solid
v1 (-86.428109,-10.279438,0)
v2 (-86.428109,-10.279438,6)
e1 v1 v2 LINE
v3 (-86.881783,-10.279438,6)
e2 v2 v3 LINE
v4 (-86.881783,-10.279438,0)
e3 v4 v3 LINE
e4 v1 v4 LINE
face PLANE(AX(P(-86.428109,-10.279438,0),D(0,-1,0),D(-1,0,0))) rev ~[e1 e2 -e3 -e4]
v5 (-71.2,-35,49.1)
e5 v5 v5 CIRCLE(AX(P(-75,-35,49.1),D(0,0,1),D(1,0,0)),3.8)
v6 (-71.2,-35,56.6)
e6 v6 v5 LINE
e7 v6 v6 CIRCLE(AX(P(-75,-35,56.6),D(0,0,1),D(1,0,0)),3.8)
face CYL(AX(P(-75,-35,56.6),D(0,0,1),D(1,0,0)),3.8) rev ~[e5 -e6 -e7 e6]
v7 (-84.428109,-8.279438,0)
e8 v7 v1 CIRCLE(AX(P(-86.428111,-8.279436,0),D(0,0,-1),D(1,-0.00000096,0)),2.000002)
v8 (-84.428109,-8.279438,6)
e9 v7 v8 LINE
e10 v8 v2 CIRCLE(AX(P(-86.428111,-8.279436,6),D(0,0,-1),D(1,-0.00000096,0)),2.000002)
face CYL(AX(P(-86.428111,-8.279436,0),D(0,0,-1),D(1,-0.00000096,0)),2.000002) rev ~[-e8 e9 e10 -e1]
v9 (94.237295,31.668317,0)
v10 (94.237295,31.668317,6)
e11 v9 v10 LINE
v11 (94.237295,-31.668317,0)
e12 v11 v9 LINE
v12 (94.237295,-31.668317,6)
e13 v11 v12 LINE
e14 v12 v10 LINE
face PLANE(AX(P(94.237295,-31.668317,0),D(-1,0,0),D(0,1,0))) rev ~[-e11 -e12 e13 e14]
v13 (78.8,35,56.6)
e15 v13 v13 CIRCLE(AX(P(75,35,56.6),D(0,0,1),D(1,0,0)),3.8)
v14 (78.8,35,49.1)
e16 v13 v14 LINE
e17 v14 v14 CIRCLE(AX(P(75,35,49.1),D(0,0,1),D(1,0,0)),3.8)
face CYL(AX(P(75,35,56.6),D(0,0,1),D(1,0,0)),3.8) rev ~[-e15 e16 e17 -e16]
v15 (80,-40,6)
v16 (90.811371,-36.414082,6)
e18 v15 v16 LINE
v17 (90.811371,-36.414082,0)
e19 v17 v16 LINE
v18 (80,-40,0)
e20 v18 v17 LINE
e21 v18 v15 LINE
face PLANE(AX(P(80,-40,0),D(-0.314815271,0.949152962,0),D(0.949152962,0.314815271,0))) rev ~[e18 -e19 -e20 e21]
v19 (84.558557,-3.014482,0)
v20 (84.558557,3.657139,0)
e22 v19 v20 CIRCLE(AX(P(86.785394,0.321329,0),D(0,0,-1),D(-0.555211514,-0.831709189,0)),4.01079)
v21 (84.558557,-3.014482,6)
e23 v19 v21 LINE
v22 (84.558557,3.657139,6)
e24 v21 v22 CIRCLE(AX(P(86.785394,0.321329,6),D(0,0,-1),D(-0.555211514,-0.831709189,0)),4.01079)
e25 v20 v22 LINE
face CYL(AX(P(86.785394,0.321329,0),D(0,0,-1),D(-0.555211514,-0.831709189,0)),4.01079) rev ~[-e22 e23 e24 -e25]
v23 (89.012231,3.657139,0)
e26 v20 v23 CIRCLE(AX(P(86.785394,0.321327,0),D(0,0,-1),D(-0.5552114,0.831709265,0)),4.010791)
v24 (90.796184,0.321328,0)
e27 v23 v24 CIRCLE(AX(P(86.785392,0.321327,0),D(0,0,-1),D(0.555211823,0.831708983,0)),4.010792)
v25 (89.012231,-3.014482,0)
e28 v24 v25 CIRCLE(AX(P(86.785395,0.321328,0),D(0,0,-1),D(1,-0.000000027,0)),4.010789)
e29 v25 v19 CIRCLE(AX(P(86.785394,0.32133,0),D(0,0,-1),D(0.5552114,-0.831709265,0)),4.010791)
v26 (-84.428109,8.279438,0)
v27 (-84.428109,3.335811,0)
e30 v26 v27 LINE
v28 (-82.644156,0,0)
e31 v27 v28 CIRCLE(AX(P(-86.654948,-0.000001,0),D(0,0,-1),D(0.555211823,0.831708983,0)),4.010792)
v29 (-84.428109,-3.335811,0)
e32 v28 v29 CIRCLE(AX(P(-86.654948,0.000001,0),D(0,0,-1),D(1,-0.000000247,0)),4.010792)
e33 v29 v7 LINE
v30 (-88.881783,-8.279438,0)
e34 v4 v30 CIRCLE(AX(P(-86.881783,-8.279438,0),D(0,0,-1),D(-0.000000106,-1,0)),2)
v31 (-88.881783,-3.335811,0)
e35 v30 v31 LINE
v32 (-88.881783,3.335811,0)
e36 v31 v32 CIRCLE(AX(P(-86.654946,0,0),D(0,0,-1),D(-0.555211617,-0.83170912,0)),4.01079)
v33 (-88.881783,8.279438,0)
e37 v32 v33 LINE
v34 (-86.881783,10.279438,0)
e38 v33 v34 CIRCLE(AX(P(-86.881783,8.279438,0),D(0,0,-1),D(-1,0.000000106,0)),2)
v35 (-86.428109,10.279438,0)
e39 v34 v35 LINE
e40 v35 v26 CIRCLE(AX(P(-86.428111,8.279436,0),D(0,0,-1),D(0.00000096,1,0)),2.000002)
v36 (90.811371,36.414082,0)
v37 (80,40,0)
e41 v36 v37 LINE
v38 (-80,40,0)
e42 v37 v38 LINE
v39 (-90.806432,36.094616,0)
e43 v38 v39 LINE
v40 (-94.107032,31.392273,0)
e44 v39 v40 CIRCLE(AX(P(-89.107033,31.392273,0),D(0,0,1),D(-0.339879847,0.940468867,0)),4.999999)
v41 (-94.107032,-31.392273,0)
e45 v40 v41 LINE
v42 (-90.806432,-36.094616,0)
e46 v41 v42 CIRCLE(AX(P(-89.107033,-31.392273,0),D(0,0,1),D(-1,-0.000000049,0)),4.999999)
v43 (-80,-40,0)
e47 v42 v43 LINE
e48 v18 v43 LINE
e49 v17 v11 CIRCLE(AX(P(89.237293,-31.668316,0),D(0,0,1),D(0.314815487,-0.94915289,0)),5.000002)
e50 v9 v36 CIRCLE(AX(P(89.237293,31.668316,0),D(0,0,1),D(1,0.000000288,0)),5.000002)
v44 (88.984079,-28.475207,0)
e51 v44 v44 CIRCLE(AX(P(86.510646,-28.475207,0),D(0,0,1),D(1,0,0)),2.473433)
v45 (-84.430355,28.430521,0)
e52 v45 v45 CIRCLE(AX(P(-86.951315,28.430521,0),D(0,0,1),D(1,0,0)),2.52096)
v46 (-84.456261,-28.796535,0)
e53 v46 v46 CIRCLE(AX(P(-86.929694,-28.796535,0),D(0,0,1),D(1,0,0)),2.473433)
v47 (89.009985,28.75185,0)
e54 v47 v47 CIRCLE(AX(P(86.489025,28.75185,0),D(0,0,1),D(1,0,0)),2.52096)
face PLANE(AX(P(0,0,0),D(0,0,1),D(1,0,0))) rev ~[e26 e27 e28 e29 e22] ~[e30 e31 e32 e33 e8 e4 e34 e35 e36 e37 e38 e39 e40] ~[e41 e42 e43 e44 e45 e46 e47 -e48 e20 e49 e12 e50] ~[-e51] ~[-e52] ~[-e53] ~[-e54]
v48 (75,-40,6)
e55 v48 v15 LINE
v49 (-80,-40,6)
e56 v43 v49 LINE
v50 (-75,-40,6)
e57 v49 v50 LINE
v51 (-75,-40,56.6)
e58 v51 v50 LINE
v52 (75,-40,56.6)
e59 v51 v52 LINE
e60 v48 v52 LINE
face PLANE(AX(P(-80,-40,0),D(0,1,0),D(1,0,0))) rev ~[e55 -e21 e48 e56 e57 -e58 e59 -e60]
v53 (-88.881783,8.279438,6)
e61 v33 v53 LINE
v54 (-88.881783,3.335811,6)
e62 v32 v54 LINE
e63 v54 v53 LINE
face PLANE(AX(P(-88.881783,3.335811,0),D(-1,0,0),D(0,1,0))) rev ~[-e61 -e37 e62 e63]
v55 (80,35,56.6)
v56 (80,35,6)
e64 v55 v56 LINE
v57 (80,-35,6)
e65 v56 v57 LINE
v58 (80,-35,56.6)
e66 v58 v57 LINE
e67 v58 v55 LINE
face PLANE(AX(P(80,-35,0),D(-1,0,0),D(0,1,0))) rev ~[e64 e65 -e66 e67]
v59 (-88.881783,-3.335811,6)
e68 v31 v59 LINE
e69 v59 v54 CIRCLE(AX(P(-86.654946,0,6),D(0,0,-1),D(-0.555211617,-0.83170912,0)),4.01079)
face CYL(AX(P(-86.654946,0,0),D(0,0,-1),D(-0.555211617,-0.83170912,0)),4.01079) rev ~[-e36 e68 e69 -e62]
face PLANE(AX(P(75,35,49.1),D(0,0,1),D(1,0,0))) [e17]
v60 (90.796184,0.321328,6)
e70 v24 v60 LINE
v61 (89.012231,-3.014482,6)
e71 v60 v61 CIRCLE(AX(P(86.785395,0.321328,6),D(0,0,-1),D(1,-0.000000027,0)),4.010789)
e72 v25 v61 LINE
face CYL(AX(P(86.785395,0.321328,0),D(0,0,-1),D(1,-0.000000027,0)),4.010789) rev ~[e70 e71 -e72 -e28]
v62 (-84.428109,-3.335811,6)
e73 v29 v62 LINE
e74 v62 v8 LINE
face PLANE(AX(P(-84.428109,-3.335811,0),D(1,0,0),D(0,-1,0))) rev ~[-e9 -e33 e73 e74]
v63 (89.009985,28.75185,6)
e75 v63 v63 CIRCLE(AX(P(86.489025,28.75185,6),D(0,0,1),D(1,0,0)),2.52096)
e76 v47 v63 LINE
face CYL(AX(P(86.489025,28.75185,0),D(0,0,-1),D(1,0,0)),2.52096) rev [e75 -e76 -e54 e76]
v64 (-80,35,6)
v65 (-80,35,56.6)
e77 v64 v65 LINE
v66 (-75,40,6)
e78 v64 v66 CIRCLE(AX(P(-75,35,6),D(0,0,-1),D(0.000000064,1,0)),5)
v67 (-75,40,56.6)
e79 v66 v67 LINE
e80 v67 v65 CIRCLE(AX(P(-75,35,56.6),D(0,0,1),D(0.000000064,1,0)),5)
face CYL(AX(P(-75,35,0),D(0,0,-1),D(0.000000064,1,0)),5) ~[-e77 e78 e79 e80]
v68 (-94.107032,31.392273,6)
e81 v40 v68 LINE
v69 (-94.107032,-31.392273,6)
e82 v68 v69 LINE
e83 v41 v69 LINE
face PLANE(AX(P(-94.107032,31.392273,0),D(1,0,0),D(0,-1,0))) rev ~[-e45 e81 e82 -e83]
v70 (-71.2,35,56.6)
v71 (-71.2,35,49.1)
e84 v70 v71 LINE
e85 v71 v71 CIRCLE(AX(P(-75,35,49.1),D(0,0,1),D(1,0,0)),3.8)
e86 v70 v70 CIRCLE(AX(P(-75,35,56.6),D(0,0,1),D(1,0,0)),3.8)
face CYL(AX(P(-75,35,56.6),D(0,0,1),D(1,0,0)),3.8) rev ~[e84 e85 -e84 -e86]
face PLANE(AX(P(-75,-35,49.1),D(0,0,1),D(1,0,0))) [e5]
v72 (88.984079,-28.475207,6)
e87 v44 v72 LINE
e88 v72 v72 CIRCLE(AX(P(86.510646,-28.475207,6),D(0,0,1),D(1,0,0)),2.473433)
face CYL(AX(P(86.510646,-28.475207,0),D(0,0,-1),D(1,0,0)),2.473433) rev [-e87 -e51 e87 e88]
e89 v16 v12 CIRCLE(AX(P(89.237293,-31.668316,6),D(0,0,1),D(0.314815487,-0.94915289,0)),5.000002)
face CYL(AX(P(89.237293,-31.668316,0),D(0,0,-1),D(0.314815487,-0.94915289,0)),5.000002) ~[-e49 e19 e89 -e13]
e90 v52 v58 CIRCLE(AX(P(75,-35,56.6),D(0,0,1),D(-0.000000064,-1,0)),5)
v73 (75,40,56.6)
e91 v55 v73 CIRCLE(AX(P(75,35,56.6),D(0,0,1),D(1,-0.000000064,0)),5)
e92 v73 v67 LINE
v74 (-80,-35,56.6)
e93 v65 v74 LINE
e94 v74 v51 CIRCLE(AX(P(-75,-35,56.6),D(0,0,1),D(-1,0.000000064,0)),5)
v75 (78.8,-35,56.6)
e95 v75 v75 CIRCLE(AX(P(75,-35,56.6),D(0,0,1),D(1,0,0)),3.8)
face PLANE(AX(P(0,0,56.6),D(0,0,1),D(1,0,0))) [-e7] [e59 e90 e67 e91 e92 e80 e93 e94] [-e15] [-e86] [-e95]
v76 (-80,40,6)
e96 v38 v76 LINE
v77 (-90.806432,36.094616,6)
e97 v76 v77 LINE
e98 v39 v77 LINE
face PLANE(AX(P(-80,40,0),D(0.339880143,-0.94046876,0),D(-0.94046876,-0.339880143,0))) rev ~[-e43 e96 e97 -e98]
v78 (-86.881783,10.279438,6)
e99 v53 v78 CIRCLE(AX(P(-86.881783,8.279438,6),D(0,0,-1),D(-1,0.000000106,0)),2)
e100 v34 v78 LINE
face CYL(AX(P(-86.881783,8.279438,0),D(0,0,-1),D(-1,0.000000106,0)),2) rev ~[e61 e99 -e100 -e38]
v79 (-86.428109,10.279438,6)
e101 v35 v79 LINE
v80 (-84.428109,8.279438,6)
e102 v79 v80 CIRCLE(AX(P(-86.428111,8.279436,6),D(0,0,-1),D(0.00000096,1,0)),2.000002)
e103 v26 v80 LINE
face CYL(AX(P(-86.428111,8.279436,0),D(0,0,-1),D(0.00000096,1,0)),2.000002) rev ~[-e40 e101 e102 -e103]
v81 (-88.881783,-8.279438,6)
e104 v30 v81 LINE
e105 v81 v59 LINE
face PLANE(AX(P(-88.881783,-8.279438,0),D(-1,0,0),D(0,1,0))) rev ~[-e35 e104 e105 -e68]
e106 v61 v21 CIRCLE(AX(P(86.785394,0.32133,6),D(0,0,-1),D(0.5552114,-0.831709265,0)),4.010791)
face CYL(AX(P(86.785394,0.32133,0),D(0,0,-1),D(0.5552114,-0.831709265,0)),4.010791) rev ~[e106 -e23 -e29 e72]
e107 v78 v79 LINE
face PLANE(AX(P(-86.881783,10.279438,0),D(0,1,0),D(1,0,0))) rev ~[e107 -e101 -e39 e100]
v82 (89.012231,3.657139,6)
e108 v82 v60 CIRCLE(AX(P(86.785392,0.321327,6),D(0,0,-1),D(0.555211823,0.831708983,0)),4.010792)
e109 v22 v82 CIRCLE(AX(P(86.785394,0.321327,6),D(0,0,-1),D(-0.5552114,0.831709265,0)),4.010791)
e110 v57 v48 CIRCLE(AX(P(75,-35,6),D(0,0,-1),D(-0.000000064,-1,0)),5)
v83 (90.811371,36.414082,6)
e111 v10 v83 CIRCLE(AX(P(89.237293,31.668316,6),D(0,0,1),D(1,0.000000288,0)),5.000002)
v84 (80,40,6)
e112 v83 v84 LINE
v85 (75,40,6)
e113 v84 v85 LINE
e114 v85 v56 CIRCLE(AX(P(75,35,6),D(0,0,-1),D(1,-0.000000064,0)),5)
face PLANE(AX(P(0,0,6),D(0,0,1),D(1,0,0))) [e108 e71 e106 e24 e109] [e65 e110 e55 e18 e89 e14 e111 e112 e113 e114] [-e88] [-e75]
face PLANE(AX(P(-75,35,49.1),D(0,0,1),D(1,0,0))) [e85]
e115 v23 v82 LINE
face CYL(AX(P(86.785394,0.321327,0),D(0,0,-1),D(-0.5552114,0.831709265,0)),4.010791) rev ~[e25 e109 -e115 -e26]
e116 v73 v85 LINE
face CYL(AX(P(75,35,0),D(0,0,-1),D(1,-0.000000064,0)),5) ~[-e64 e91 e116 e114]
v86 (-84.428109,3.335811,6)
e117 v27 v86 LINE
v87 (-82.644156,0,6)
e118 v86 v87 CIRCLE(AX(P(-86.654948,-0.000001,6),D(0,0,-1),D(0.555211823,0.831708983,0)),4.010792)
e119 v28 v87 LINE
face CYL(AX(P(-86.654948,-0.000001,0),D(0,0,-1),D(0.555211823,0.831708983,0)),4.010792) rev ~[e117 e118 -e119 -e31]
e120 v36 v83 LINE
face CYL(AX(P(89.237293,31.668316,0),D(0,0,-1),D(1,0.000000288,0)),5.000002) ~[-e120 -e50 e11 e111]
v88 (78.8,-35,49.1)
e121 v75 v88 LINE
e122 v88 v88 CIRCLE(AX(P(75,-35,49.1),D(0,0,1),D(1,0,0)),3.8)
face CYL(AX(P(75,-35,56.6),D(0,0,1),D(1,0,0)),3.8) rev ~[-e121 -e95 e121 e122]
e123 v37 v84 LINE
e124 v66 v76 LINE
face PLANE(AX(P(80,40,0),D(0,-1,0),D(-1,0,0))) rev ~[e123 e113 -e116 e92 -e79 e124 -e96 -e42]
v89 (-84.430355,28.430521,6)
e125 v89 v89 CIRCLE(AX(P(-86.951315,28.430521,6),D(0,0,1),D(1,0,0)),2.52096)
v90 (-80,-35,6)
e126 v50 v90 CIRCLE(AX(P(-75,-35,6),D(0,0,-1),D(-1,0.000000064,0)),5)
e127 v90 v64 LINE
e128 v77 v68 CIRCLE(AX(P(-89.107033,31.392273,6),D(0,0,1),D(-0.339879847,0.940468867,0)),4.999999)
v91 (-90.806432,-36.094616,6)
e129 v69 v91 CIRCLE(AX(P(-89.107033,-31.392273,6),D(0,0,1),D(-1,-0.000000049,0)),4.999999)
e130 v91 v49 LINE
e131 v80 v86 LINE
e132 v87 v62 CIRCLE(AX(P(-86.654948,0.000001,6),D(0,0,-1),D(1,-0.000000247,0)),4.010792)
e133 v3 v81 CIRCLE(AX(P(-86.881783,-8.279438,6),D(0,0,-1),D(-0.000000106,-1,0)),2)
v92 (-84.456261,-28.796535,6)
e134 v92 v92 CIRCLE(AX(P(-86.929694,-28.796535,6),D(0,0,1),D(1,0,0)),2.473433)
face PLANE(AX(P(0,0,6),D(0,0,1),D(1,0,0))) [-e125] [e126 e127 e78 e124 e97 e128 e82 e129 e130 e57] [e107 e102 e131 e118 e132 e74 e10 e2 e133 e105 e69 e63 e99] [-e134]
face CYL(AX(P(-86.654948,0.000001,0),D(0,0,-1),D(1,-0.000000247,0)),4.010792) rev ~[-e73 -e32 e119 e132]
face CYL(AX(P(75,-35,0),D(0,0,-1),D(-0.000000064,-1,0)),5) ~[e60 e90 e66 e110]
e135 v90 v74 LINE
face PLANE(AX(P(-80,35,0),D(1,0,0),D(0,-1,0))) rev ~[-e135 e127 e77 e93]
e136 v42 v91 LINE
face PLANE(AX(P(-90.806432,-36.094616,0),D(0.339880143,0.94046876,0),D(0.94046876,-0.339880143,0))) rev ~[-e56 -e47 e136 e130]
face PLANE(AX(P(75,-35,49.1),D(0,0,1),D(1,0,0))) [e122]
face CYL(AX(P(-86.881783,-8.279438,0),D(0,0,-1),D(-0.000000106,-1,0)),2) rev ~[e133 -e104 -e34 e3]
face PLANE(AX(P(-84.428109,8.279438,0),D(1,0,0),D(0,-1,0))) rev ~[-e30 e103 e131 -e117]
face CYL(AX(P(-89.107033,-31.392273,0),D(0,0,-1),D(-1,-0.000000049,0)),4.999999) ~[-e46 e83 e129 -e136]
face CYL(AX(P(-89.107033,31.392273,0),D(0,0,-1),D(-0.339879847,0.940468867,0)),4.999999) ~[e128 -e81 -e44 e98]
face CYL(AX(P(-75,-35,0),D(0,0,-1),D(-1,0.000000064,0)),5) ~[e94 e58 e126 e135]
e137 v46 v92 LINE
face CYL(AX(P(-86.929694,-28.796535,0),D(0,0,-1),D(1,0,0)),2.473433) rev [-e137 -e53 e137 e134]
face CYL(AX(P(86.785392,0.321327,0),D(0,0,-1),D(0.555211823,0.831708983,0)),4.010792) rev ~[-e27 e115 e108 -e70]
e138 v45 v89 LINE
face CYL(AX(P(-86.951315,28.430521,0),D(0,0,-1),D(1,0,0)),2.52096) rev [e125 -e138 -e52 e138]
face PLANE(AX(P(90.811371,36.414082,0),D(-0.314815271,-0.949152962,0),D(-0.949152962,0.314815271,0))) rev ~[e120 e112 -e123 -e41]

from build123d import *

# Parameters (mm, degrees)
F0_R     = 2.473433
F0_R_2   = 2.52096
F1_DEPTH = 6
F2_DEPTH = 34
F3_DEPTH = 6
F4_DEPTH = 56.6
F5_R     = 3.8
F6_DEPTH = 7.5


with BuildPart() as f1:
    # F0 (on Top) → F1 (new body)
    with BuildSketch(Plane.XY):
        with BuildLine():
            ThreePointArc((80, 35), (78.535534, 38.535534), (75, 40))
            Line((75, 40), (-75, 40))
            ThreePointArc((-75, 40), (-78.535534, 38.535534), (-80, 35))
            Line((-80, 35), (-80, -35))
            ThreePointArc((-80, -35), (-78.535534, -38.535534), (-75, -40))
            Line((-75, -40), (75, -40))
            ThreePointArc((75, -40), (78.535534, -38.535534), (80, -35))
            Line((80, -35), (80, 35))
        make_face()
        with BuildLine():
            ThreePointArc((-68, 34.468334), (-67.12132, 36.589654), (-65, 37.468334))
            Line((-65, 37.468334), (0, 37.468334))
            Line((0, 37.468334), (65, 37.468334))
            ThreePointArc((65, 37.468334), (67.12132, 36.589654), (68, 34.468334))
            Line((68, 34.468334), (68, 22.468334))
            ThreePointArc((68, 22.468334), (68.87868, 20.347013), (71, 19.468334))
            Line((71, 19.468334), (74.173963, 19.468334))
            ThreePointArc((74.173963, 19.468334), (76.295284, 18.589654), (77.173963, 16.468334))
            Line((77.173963, 16.468334), (77.173963, -16.485134))
            ThreePointArc((77.173963, -16.485134), (76.295284, -18.606454), (74.173963, -19.485134))
            Line((74.173963, -19.485134), (71, -19.485134))
            ThreePointArc((71, -19.485134), (68.87868, -20.363814), (68, -22.485134))
            Line((68, -22.485134), (68, -34.485134))
            ThreePointArc((68, -34.485134), (67.12132, -36.606454), (65, -37.485134))
            Line((65, -37.485134), (0, -37.485134))
            Line((0, -37.485134), (-65, -37.485134))
            ThreePointArc((-65, -37.485134), (-67.12132, -36.606454), (-68, -34.485134))
            Line((-68, -34.485134), (-68, -22.546155))
            ThreePointArc((-68, -22.546155), (-68.900143, -20.403586), (-71.060401, -19.546763))
            Line((-71.060401, -19.546763), (-74.027314, -19.60651))
            ThreePointArc((-74.027314, -19.60651), (-76.187572, -18.749687), (-77.087715, -16.607118))
            Line((-77.087715, -16.607118), (-77.087715, 16.468334))
            ThreePointArc((-77.087715, 16.468334), (-76.209036, 18.589654), (-74.087715, 19.468334))
            Line((-74.087715, 19.468334), (-71, 19.468334))
            ThreePointArc((-71, 19.468334), (-68.87868, 20.347013), (-68, 22.468334))
            Line((-68, 22.468334), (-68, 34.468334))
        make_face(mode=Mode.SUBTRACT)
        with BuildLine():
            Line((80, 40), (75, 40))
            ThreePointArc((75, 40), (78.535534, 38.535534), (80, 35))
            Line((80, 35), (80, -35))
            ThreePointArc((80, -35), (78.535534, -38.535534), (75, -40))
            Line((75, -40), (80, -40))
            Line((80, -40), (90.811371, -36.414082))
            ThreePointArc((90.811371, -36.414082), (93.291328, -34.594887), (94.237295, -31.668317))
            Line((94.237295, -31.668317), (94.237295, 31.668317))
            ThreePointArc((94.237295, 31.668317), (93.291328, 34.594887), (90.811371, 36.414082))
            Line((90.811371, 36.414082), (80, 40))
        make_face()
        with Locations((86.510646, -28.475207)):
            Circle(F0_R, mode=Mode.SUBTRACT)
        with BuildLine():
            ThreePointArc((90.796184, 0.321328), (90.322187, -1.570108), (89.012231, -3.014482))
            ThreePointArc((89.012231, -3.014482), (86.785394, -3.689461), (84.558557, -3.014482))
            ThreePointArc((84.558557, -3.014482), (82.774604, 0.321328), (84.558557, 3.657139))
            ThreePointArc((84.558557, 3.657139), (86.785394, 4.332118), (89.012231, 3.657139))
            ThreePointArc((89.012231, 3.657139), (90.322187, 2.212764), (90.796184, 0.321328))
        make_face(mode=Mode.SUBTRACT)
        with Locations((86.489025, 28.75185)):
            Circle(F0_R_2, mode=Mode.SUBTRACT)
        with BuildLine():
            ThreePointArc((-80, 35), (-78.535534, 38.535534), (-75, 40))
            Line((-75, 40), (-80, 40))
            Line((-80, 40), (-90.806432, 36.094616))
            ThreePointArc((-90.806432, 36.094616), (-93.199525, 34.264815), (-94.107032, 31.392273))
            Line((-94.107032, 31.392273), (-94.107032, -31.392273))
            ThreePointArc((-94.107032, -31.392273), (-93.199525, -34.264815), (-90.806432, -36.094616))
            Line((-90.806432, -36.094616), (-80, -40))
            Line((-80, -40), (-75, -40))
            ThreePointArc((-75, -40), (-78.535534, -38.535534), (-80, -35))
            Line((-80, -35), (-80, 35))
        make_face()
        with Locations((-86.929694, -28.796535)):
            Circle(F0_R, mode=Mode.SUBTRACT)
        with BuildLine():
            ThreePointArc((-84.428109, -8.279438), (-85.013896, -9.693651), (-86.428109, -10.279438))
            Line((-86.428109, -10.279438), (-86.881783, -10.279438))
            ThreePointArc((-86.881783, -10.279438), (-88.295997, -9.693651), (-88.881783, -8.279438))
            Line((-88.881783, -8.279438), (-88.881783, -3.335811))
            ThreePointArc((-88.881783, -3.335811), (-90.665736, 0), (-88.881783, 3.335811))
            Line((-88.881783, 3.335811), (-88.881783, 8.279438))
            ThreePointArc((-88.881783, 8.279438), (-88.295997, 9.693651), (-86.881783, 10.279438))
            Line((-86.881783, 10.279438), (-86.428109, 10.279438))
            ThreePointArc((-86.428109, 10.279438), (-85.013896, 9.693651), (-84.428109, 8.279438))
            Line((-84.428109, 8.279438), (-84.428109, 3.335811))
            ThreePointArc((-84.428109, 3.335811), (-83.118153, 1.891436), (-82.644156, 0))
            ThreePointArc((-82.644156, 0), (-83.118153, -1.891436), (-84.428109, -3.335811))
            Line((-84.428109, -3.335811), (-84.428109, -8.279438))
        make_face(mode=Mode.SUBTRACT)
        with Locations((-86.951315, 28.430521)):
            Circle(F0_R_2, mode=Mode.SUBTRACT)
    extrude(amount=F1_DEPTH)

    # F0 (on Top) → F2 (join)
    with BuildSketch(Plane.XY):
        with BuildLine():
            ThreePointArc((80, 35), (78.535534, 38.535534), (75, 40))
            Line((75, 40), (-75, 40))
            ThreePointArc((-75, 40), (-78.535534, 38.535534), (-80, 35))
            Line((-80, 35), (-80, -35))
            ThreePointArc((-80, -35), (-78.535534, -38.535534), (-75, -40))
            Line((-75, -40), (75, -40))
            ThreePointArc((75, -40), (78.535534, -38.535534), (80, -35))
            Line((80, -35), (80, 35))
        make_face()
        with BuildLine():
            ThreePointArc((-68, 34.468334), (-67.12132, 36.589654), (-65, 37.468334))
            Line((-65, 37.468334), (0, 37.468334))
            Line((0, 37.468334), (65, 37.468334))
            ThreePointArc((65, 37.468334), (67.12132, 36.589654), (68, 34.468334))
            Line((68, 34.468334), (68, 22.468334))
            ThreePointArc((68, 22.468334), (68.87868, 20.347013), (71, 19.468334))
            Line((71, 19.468334), (74.173963, 19.468334))
            ThreePointArc((74.173963, 19.468334), (76.295284, 18.589654), (77.173963, 16.468334))
            Line((77.173963, 16.468334), (77.173963, -16.485134))
            ThreePointArc((77.173963, -16.485134), (76.295284, -18.606454), (74.173963, -19.485134))
            Line((74.173963, -19.485134), (71, -19.485134))
            ThreePointArc((71, -19.485134), (68.87868, -20.363814), (68, -22.485134))
            Line((68, -22.485134), (68, -34.485134))
            ThreePointArc((68, -34.485134), (67.12132, -36.606454), (65, -37.485134))
            Line((65, -37.485134), (0, -37.485134))
            Line((0, -37.485134), (-65, -37.485134))
            ThreePointArc((-65, -37.485134), (-67.12132, -36.606454), (-68, -34.485134))
            Line((-68, -34.485134), (-68, -22.546155))
            ThreePointArc((-68, -22.546155), (-68.900143, -20.403586), (-71.060401, -19.546763))
            Line((-71.060401, -19.546763), (-74.027314, -19.60651))
            ThreePointArc((-74.027314, -19.60651), (-76.187572, -18.749687), (-77.087715, -16.607118))
            Line((-77.087715, -16.607118), (-77.087715, 16.468334))
            ThreePointArc((-77.087715, 16.468334), (-76.209036, 18.589654), (-74.087715, 19.468334))
            Line((-74.087715, 19.468334), (-71, 19.468334))
            ThreePointArc((-71, 19.468334), (-68.87868, 20.347013), (-68, 22.468334))
            Line((-68, 22.468334), (-68, 34.468334))
        make_face(mode=Mode.SUBTRACT)
    extrude(amount=F2_DEPTH)

    # F0 (on Top) → F3 (join)
    with BuildSketch(Plane.XY):
        with BuildLine():
            Line((0, 37.468334), (-65, 37.468334))
            ThreePointArc((-65, 37.468334), (-67.12132, 36.589654), (-68, 34.468334))
            Line((-68, 34.468334), (-68, 22.468334))
            ThreePointArc((-68, 22.468334), (-68.87868, 20.347013), (-71, 19.468334))
            Line((-71, 19.468334), (-74.087715, 19.468334))
            ThreePointArc((-74.087715, 19.468334), (-76.209036, 18.589654), (-77.087715, 16.468334))
            Line((-77.087715, 16.468334), (-77.087715, -16.607118))
            ThreePointArc((-77.087715, -16.607118), (-76.187572, -18.749687), (-74.027314, -19.60651))
            Line((-74.027314, -19.60651), (-71.060401, -19.546763))
            ThreePointArc((-71.060401, -19.546763), (-68.900143, -20.403586), (-68, -22.546155))
            Line((-68, -22.546155), (-68, -34.485134))
            ThreePointArc((-68, -34.485134), (-67.12132, -36.606454), (-65, -37.485134))
            Line((-65, -37.485134), (0, -37.485134))
            Line((0, -37.485134), (65, -37.485134))
            ThreePointArc((65, -37.485134), (67.12132, -36.606454), (68, -34.485134))
            Line((68, -34.485134), (68, -22.485134))
            ThreePointArc((68, -22.485134), (68.87868, -20.363814), (71, -19.485134))
            Line((71, -19.485134), (74.173963, -19.485134))
            ThreePointArc((74.173963, -19.485134), (76.295284, -18.606454), (77.173963, -16.485134))
            Line((77.173963, -16.485134), (77.173963, 16.468334))
            ThreePointArc((77.173963, 16.468334), (76.295284, 18.589654), (74.173963, 19.468334))
            Line((74.173963, 19.468334), (71, 19.468334))
            ThreePointArc((71, 19.468334), (68.87868, 20.347013), (68, 22.468334))
            Line((68, 22.468334), (68, 34.468334))
            ThreePointArc((68, 34.468334), (67.12132, 36.589654), (65, 37.468334))
            Line((65, 37.468334), (0, 37.468334))
        make_face()
        with BuildLine():
            ThreePointArc((80, 35), (78.535534, 38.535534), (75, 40))
            Line((75, 40), (-75, 40))
            ThreePointArc((-75, 40), (-78.535534, 38.535534), (-80, 35))
            Line((-80, 35), (-80, -35))
            ThreePointArc((-80, -35), (-78.535534, -38.535534), (-75, -40))
            Line((-75, -40), (75, -40))
            ThreePointArc((75, -40), (78.535534, -38.535534), (80, -35))
            Line((80, -35), (80, 35))
        make_face()
        with BuildLine():
            ThreePointArc((-68, 34.468334), (-67.12132, 36.589654), (-65, 37.468334))
            Line((-65, 37.468334), (0, 37.468334))
            Line((0, 37.468334), (65, 37.468334))
            ThreePointArc((65, 37.468334), (67.12132, 36.589654), (68, 34.468334))
            Line((68, 34.468334), (68, 22.468334))
            ThreePointArc((68, 22.468334), (68.87868, 20.347013), (71, 19.468334))
            Line((71, 19.468334), (74.173963, 19.468334))
            ThreePointArc((74.173963, 19.468334), (76.295284, 18.589654), (77.173963, 16.468334))
            Line((77.173963, 16.468334), (77.173963, -16.485134))
            ThreePointArc((77.173963, -16.485134), (76.295284, -18.606454), (74.173963, -19.485134))
            Line((74.173963, -19.485134), (71, -19.485134))
            ThreePointArc((71, -19.485134), (68.87868, -20.363814), (68, -22.485134))
            Line((68, -22.485134), (68, -34.485134))
            ThreePointArc((68, -34.485134), (67.12132, -36.606454), (65, -37.485134))
            Line((65, -37.485134), (0, -37.485134))
            Line((0, -37.485134), (-65, -37.485134))
            ThreePointArc((-65, -37.485134), (-67.12132, -36.606454), (-68, -34.485134))
            Line((-68, -34.485134), (-68, -22.546155))
            ThreePointArc((-68, -22.546155), (-68.900143, -20.403586), (-71.060401, -19.546763))
            Line((-71.060401, -19.546763), (-74.027314, -19.60651))
            ThreePointArc((-74.027314, -19.60651), (-76.187572, -18.749687), (-77.087715, -16.607118))
            Line((-77.087715, -16.607118), (-77.087715, 16.468334))
            ThreePointArc((-77.087715, 16.468334), (-76.209036, 18.589654), (-74.087715, 19.468334))
            Line((-74.087715, 19.468334), (-71, 19.468334))
            ThreePointArc((-71, 19.468334), (-68.87868, 20.347013), (-68, 22.468334))
            Line((-68, 22.468334), (-68, 34.468334))
        make_face(mode=Mode.SUBTRACT)
        with BuildLine():
            ThreePointArc((-80, 35), (-78.535534, 38.535534), (-75, 40))
            Line((-75, 40), (-80, 40))
            Line((-80, 40), (-90.806432, 36.094616))
            ThreePointArc((-90.806432, 36.094616), (-93.199525, 34.264815), (-94.107032, 31.392273))
            Line((-94.107032, 31.392273), (-94.107032, -31.392273))
            ThreePointArc((-94.107032, -31.392273), (-93.199525, -34.264815), (-90.806432, -36.094616))
            Line((-90.806432, -36.094616), (-80, -40))
            Line((-80, -40), (-75, -40))
            ThreePointArc((-75, -40), (-78.535534, -38.535534), (-80, -35))
            Line((-80, -35), (-80, 35))
        make_face()
        with Locations((-86.929694, -28.796535)):
            Circle(F0_R, mode=Mode.SUBTRACT)
        with BuildLine():
            ThreePointArc((-84.428109, -8.279438), (-85.013896, -9.693651), (-86.428109, -10.279438))
            Line((-86.428109, -10.279438), (-86.881783, -10.279438))
            ThreePointArc((-86.881783, -10.279438), (-88.295997, -9.693651), (-88.881783, -8.279438))
            Line((-88.881783, -8.279438), (-88.881783, -3.335811))
            ThreePointArc((-88.881783, -3.335811), (-90.665736, 0), (-88.881783, 3.335811))
            Line((-88.881783, 3.335811), (-88.881783, 8.279438))
            ThreePointArc((-88.881783, 8.279438), (-88.295997, 9.693651), (-86.881783, 10.279438))
            Line((-86.881783, 10.279438), (-86.428109, 10.279438))
            ThreePointArc((-86.428109, 10.279438), (-85.013896, 9.693651), (-84.428109, 8.279438))
            Line((-84.428109, 8.279438), (-84.428109, 3.335811))
            ThreePointArc((-84.428109, 3.335811), (-83.118153, 1.891436), (-82.644156, 0))
            ThreePointArc((-82.644156, 0), (-83.118153, -1.891436), (-84.428109, -3.335811))
            Line((-84.428109, -3.335811), (-84.428109, -8.279438))
        make_face(mode=Mode.SUBTRACT)
        with Locations((-86.951315, 28.430521)):
            Circle(F0_R_2, mode=Mode.SUBTRACT)
        with BuildLine():
            Line((80, 40), (75, 40))
            ThreePointArc((75, 40), (78.535534, 38.535534), (80, 35))
            Line((80, 35), (80, -35))
            ThreePointArc((80, -35), (78.535534, -38.535534), (75, -40))
            Line((75, -40), (80, -40))
            Line((80, -40), (90.811371, -36.414082))
            ThreePointArc((90.811371, -36.414082), (93.291328, -34.594887), (94.237295, -31.668317))
            Line((94.237295, -31.668317), (94.237295, 31.668317))
            ThreePointArc((94.237295, 31.668317), (93.291328, 34.594887), (90.811371, 36.414082))
            Line((90.811371, 36.414082), (80, 40))
        make_face()
        with Locations((86.510646, -28.475207)):
            Circle(F0_R, mode=Mode.SUBTRACT)
        with BuildLine():
            ThreePointArc((90.796184, 0.321328), (90.322187, -1.570108), (89.012231, -3.014482))
            ThreePointArc((89.012231, -3.014482), (86.785394, -3.689461), (84.558557, -3.014482))
            ThreePointArc((84.558557, -3.014482), (82.774604, 0.321328), (84.558557, 3.657139))
            ThreePointArc((84.558557, 3.657139), (86.785394, 4.332118), (89.012231, 3.657139))
            ThreePointArc((89.012231, 3.657139), (90.322187, 2.212764), (90.796184, 0.321328))
        make_face(mode=Mode.SUBTRACT)
        with Locations((86.489025, 28.75185)):
            Circle(F0_R_2, mode=Mode.SUBTRACT)
    extrude(amount=F3_DEPTH)

    # F0 (on Top) → F4 (join)
    with BuildSketch(Plane.XY):
        with BuildLine():
            ThreePointArc((80, 35), (78.535534, 38.535534), (75, 40))
            Line((75, 40), (-75, 40))
            ThreePointArc((-75, 40), (-78.535534, 38.535534), (-80, 35))
            Line((-80, 35), (-80, -35))
            ThreePointArc((-80, -35), (-78.535534, -38.535534), (-75, -40))
            Line((-75, -40), (75, -40))
            ThreePointArc((75, -40), (78.535534, -38.535534), (80, -35))
            Line((80, -35), (80, 35))
        make_face()
        with BuildLine():
            ThreePointArc((-68, 34.468334), (-67.12132, 36.589654), (-65, 37.468334))
            Line((-65, 37.468334), (0, 37.468334))
            Line((0, 37.468334), (65, 37.468334))
            ThreePointArc((65, 37.468334), (67.12132, 36.589654), (68, 34.468334))
            Line((68, 34.468334), (68, 22.468334))
            ThreePointArc((68, 22.468334), (68.87868, 20.347013), (71, 19.468334))
            Line((71, 19.468334), (74.173963, 19.468334))
            ThreePointArc((74.173963, 19.468334), (76.295284, 18.589654), (77.173963, 16.468334))
            Line((77.173963, 16.468334), (77.173963, -16.485134))
            ThreePointArc((77.173963, -16.485134), (76.295284, -18.606454), (74.173963, -19.485134))
            Line((74.173963, -19.485134), (71, -19.485134))
            ThreePointArc((71, -19.485134), (68.87868, -20.363814), (68, -22.485134))
            Line((68, -22.485134), (68, -34.485134))
            ThreePointArc((68, -34.485134), (67.12132, -36.606454), (65, -37.485134))
            Line((65, -37.485134), (0, -37.485134))
            Line((0, -37.485134), (-65, -37.485134))
            ThreePointArc((-65, -37.485134), (-67.12132, -36.606454), (-68, -34.485134))
            Line((-68, -34.485134), (-68, -22.546155))
            ThreePointArc((-68, -22.546155), (-68.900143, -20.403586), (-71.060401, -19.546763))
            Line((-71.060401, -19.546763), (-74.027314, -19.60651))
            ThreePointArc((-74.027314, -19.60651), (-76.187572, -18.749687), (-77.087715, -16.607118))
            Line((-77.087715, -16.607118), (-77.087715, 16.468334))
            ThreePointArc((-77.087715, 16.468334), (-76.209036, 18.589654), (-74.087715, 19.468334))
            Line((-74.087715, 19.468334), (-71, 19.468334))
            ThreePointArc((-71, 19.468334), (-68.87868, 20.347013), (-68, 22.468334))
            Line((-68, 22.468334), (-68, 34.468334))
        make_face(mode=Mode.SUBTRACT)
        with BuildLine():
            Line((0, 37.468334), (-65, 37.468334))
            ThreePointArc((-65, 37.468334), (-67.12132, 36.589654), (-68, 34.468334))
            Line((-68, 34.468334), (-68, 22.468334))
            ThreePointArc((-68, 22.468334), (-68.87868, 20.347013), (-71, 19.468334))
            Line((-71, 19.468334), (-74.087715, 19.468334))
            ThreePointArc((-74.087715, 19.468334), (-76.209036, 18.589654), (-77.087715, 16.468334))
            Line((-77.087715, 16.468334), (-77.087715, -16.607118))
            ThreePointArc((-77.087715, -16.607118), (-76.187572, -18.749687), (-74.027314, -19.60651))
            Line((-74.027314, -19.60651), (-71.060401, -19.546763))
            ThreePointArc((-71.060401, -19.546763), (-68.900143, -20.403586), (-68, -22.546155))
            Line((-68, -22.546155), (-68, -34.485134))
            ThreePointArc((-68, -34.485134), (-67.12132, -36.606454), (-65, -37.485134))
            Line((-65, -37.485134), (0, -37.485134))
            Line((0, -37.485134), (65, -37.485134))
            ThreePointArc((65, -37.485134), (67.12132, -36.606454), (68, -34.485134))
            Line((68, -34.485134), (68, -22.485134))
            ThreePointArc((68, -22.485134), (68.87868, -20.363814), (71, -19.485134))
            Line((71, -19.485134), (74.173963, -19.485134))
            ThreePointArc((74.173963, -19.485134), (76.295284, -18.606454), (77.173963, -16.485134))
            Line((77.173963, -16.485134), (77.173963, 16.468334))
            ThreePointArc((77.173963, 16.468334), (76.295284, 18.589654), (74.173963, 19.468334))
            Line((74.173963, 19.468334), (71, 19.468334))
            ThreePointArc((71, 19.468334), (68.87868, 20.347013), (68, 22.468334))
            Line((68, 22.468334), (68, 34.468334))
            ThreePointArc((68, 34.468334), (67.12132, 36.589654), (65, 37.468334))
            Line((65, 37.468334), (0, 37.468334))
        make_face()
    extrude(amount=F4_DEPTH)

    # F5 (on face) → F6 (cut)
    with BuildSketch(Plane.XY.offset(56.6)):
        with Locations((-75, 35)):
            Circle(F5_R)
        with Locations((-75, -35)):
            Circle(F5_R)
        with Locations((75, -35)):
            Circle(F5_R)
        with Locations((75, 35)):
            Circle(F5_R)
    extrude(amount=-F6_DEPTH, mode=Mode.SUBTRACT)


solid = f1.part
